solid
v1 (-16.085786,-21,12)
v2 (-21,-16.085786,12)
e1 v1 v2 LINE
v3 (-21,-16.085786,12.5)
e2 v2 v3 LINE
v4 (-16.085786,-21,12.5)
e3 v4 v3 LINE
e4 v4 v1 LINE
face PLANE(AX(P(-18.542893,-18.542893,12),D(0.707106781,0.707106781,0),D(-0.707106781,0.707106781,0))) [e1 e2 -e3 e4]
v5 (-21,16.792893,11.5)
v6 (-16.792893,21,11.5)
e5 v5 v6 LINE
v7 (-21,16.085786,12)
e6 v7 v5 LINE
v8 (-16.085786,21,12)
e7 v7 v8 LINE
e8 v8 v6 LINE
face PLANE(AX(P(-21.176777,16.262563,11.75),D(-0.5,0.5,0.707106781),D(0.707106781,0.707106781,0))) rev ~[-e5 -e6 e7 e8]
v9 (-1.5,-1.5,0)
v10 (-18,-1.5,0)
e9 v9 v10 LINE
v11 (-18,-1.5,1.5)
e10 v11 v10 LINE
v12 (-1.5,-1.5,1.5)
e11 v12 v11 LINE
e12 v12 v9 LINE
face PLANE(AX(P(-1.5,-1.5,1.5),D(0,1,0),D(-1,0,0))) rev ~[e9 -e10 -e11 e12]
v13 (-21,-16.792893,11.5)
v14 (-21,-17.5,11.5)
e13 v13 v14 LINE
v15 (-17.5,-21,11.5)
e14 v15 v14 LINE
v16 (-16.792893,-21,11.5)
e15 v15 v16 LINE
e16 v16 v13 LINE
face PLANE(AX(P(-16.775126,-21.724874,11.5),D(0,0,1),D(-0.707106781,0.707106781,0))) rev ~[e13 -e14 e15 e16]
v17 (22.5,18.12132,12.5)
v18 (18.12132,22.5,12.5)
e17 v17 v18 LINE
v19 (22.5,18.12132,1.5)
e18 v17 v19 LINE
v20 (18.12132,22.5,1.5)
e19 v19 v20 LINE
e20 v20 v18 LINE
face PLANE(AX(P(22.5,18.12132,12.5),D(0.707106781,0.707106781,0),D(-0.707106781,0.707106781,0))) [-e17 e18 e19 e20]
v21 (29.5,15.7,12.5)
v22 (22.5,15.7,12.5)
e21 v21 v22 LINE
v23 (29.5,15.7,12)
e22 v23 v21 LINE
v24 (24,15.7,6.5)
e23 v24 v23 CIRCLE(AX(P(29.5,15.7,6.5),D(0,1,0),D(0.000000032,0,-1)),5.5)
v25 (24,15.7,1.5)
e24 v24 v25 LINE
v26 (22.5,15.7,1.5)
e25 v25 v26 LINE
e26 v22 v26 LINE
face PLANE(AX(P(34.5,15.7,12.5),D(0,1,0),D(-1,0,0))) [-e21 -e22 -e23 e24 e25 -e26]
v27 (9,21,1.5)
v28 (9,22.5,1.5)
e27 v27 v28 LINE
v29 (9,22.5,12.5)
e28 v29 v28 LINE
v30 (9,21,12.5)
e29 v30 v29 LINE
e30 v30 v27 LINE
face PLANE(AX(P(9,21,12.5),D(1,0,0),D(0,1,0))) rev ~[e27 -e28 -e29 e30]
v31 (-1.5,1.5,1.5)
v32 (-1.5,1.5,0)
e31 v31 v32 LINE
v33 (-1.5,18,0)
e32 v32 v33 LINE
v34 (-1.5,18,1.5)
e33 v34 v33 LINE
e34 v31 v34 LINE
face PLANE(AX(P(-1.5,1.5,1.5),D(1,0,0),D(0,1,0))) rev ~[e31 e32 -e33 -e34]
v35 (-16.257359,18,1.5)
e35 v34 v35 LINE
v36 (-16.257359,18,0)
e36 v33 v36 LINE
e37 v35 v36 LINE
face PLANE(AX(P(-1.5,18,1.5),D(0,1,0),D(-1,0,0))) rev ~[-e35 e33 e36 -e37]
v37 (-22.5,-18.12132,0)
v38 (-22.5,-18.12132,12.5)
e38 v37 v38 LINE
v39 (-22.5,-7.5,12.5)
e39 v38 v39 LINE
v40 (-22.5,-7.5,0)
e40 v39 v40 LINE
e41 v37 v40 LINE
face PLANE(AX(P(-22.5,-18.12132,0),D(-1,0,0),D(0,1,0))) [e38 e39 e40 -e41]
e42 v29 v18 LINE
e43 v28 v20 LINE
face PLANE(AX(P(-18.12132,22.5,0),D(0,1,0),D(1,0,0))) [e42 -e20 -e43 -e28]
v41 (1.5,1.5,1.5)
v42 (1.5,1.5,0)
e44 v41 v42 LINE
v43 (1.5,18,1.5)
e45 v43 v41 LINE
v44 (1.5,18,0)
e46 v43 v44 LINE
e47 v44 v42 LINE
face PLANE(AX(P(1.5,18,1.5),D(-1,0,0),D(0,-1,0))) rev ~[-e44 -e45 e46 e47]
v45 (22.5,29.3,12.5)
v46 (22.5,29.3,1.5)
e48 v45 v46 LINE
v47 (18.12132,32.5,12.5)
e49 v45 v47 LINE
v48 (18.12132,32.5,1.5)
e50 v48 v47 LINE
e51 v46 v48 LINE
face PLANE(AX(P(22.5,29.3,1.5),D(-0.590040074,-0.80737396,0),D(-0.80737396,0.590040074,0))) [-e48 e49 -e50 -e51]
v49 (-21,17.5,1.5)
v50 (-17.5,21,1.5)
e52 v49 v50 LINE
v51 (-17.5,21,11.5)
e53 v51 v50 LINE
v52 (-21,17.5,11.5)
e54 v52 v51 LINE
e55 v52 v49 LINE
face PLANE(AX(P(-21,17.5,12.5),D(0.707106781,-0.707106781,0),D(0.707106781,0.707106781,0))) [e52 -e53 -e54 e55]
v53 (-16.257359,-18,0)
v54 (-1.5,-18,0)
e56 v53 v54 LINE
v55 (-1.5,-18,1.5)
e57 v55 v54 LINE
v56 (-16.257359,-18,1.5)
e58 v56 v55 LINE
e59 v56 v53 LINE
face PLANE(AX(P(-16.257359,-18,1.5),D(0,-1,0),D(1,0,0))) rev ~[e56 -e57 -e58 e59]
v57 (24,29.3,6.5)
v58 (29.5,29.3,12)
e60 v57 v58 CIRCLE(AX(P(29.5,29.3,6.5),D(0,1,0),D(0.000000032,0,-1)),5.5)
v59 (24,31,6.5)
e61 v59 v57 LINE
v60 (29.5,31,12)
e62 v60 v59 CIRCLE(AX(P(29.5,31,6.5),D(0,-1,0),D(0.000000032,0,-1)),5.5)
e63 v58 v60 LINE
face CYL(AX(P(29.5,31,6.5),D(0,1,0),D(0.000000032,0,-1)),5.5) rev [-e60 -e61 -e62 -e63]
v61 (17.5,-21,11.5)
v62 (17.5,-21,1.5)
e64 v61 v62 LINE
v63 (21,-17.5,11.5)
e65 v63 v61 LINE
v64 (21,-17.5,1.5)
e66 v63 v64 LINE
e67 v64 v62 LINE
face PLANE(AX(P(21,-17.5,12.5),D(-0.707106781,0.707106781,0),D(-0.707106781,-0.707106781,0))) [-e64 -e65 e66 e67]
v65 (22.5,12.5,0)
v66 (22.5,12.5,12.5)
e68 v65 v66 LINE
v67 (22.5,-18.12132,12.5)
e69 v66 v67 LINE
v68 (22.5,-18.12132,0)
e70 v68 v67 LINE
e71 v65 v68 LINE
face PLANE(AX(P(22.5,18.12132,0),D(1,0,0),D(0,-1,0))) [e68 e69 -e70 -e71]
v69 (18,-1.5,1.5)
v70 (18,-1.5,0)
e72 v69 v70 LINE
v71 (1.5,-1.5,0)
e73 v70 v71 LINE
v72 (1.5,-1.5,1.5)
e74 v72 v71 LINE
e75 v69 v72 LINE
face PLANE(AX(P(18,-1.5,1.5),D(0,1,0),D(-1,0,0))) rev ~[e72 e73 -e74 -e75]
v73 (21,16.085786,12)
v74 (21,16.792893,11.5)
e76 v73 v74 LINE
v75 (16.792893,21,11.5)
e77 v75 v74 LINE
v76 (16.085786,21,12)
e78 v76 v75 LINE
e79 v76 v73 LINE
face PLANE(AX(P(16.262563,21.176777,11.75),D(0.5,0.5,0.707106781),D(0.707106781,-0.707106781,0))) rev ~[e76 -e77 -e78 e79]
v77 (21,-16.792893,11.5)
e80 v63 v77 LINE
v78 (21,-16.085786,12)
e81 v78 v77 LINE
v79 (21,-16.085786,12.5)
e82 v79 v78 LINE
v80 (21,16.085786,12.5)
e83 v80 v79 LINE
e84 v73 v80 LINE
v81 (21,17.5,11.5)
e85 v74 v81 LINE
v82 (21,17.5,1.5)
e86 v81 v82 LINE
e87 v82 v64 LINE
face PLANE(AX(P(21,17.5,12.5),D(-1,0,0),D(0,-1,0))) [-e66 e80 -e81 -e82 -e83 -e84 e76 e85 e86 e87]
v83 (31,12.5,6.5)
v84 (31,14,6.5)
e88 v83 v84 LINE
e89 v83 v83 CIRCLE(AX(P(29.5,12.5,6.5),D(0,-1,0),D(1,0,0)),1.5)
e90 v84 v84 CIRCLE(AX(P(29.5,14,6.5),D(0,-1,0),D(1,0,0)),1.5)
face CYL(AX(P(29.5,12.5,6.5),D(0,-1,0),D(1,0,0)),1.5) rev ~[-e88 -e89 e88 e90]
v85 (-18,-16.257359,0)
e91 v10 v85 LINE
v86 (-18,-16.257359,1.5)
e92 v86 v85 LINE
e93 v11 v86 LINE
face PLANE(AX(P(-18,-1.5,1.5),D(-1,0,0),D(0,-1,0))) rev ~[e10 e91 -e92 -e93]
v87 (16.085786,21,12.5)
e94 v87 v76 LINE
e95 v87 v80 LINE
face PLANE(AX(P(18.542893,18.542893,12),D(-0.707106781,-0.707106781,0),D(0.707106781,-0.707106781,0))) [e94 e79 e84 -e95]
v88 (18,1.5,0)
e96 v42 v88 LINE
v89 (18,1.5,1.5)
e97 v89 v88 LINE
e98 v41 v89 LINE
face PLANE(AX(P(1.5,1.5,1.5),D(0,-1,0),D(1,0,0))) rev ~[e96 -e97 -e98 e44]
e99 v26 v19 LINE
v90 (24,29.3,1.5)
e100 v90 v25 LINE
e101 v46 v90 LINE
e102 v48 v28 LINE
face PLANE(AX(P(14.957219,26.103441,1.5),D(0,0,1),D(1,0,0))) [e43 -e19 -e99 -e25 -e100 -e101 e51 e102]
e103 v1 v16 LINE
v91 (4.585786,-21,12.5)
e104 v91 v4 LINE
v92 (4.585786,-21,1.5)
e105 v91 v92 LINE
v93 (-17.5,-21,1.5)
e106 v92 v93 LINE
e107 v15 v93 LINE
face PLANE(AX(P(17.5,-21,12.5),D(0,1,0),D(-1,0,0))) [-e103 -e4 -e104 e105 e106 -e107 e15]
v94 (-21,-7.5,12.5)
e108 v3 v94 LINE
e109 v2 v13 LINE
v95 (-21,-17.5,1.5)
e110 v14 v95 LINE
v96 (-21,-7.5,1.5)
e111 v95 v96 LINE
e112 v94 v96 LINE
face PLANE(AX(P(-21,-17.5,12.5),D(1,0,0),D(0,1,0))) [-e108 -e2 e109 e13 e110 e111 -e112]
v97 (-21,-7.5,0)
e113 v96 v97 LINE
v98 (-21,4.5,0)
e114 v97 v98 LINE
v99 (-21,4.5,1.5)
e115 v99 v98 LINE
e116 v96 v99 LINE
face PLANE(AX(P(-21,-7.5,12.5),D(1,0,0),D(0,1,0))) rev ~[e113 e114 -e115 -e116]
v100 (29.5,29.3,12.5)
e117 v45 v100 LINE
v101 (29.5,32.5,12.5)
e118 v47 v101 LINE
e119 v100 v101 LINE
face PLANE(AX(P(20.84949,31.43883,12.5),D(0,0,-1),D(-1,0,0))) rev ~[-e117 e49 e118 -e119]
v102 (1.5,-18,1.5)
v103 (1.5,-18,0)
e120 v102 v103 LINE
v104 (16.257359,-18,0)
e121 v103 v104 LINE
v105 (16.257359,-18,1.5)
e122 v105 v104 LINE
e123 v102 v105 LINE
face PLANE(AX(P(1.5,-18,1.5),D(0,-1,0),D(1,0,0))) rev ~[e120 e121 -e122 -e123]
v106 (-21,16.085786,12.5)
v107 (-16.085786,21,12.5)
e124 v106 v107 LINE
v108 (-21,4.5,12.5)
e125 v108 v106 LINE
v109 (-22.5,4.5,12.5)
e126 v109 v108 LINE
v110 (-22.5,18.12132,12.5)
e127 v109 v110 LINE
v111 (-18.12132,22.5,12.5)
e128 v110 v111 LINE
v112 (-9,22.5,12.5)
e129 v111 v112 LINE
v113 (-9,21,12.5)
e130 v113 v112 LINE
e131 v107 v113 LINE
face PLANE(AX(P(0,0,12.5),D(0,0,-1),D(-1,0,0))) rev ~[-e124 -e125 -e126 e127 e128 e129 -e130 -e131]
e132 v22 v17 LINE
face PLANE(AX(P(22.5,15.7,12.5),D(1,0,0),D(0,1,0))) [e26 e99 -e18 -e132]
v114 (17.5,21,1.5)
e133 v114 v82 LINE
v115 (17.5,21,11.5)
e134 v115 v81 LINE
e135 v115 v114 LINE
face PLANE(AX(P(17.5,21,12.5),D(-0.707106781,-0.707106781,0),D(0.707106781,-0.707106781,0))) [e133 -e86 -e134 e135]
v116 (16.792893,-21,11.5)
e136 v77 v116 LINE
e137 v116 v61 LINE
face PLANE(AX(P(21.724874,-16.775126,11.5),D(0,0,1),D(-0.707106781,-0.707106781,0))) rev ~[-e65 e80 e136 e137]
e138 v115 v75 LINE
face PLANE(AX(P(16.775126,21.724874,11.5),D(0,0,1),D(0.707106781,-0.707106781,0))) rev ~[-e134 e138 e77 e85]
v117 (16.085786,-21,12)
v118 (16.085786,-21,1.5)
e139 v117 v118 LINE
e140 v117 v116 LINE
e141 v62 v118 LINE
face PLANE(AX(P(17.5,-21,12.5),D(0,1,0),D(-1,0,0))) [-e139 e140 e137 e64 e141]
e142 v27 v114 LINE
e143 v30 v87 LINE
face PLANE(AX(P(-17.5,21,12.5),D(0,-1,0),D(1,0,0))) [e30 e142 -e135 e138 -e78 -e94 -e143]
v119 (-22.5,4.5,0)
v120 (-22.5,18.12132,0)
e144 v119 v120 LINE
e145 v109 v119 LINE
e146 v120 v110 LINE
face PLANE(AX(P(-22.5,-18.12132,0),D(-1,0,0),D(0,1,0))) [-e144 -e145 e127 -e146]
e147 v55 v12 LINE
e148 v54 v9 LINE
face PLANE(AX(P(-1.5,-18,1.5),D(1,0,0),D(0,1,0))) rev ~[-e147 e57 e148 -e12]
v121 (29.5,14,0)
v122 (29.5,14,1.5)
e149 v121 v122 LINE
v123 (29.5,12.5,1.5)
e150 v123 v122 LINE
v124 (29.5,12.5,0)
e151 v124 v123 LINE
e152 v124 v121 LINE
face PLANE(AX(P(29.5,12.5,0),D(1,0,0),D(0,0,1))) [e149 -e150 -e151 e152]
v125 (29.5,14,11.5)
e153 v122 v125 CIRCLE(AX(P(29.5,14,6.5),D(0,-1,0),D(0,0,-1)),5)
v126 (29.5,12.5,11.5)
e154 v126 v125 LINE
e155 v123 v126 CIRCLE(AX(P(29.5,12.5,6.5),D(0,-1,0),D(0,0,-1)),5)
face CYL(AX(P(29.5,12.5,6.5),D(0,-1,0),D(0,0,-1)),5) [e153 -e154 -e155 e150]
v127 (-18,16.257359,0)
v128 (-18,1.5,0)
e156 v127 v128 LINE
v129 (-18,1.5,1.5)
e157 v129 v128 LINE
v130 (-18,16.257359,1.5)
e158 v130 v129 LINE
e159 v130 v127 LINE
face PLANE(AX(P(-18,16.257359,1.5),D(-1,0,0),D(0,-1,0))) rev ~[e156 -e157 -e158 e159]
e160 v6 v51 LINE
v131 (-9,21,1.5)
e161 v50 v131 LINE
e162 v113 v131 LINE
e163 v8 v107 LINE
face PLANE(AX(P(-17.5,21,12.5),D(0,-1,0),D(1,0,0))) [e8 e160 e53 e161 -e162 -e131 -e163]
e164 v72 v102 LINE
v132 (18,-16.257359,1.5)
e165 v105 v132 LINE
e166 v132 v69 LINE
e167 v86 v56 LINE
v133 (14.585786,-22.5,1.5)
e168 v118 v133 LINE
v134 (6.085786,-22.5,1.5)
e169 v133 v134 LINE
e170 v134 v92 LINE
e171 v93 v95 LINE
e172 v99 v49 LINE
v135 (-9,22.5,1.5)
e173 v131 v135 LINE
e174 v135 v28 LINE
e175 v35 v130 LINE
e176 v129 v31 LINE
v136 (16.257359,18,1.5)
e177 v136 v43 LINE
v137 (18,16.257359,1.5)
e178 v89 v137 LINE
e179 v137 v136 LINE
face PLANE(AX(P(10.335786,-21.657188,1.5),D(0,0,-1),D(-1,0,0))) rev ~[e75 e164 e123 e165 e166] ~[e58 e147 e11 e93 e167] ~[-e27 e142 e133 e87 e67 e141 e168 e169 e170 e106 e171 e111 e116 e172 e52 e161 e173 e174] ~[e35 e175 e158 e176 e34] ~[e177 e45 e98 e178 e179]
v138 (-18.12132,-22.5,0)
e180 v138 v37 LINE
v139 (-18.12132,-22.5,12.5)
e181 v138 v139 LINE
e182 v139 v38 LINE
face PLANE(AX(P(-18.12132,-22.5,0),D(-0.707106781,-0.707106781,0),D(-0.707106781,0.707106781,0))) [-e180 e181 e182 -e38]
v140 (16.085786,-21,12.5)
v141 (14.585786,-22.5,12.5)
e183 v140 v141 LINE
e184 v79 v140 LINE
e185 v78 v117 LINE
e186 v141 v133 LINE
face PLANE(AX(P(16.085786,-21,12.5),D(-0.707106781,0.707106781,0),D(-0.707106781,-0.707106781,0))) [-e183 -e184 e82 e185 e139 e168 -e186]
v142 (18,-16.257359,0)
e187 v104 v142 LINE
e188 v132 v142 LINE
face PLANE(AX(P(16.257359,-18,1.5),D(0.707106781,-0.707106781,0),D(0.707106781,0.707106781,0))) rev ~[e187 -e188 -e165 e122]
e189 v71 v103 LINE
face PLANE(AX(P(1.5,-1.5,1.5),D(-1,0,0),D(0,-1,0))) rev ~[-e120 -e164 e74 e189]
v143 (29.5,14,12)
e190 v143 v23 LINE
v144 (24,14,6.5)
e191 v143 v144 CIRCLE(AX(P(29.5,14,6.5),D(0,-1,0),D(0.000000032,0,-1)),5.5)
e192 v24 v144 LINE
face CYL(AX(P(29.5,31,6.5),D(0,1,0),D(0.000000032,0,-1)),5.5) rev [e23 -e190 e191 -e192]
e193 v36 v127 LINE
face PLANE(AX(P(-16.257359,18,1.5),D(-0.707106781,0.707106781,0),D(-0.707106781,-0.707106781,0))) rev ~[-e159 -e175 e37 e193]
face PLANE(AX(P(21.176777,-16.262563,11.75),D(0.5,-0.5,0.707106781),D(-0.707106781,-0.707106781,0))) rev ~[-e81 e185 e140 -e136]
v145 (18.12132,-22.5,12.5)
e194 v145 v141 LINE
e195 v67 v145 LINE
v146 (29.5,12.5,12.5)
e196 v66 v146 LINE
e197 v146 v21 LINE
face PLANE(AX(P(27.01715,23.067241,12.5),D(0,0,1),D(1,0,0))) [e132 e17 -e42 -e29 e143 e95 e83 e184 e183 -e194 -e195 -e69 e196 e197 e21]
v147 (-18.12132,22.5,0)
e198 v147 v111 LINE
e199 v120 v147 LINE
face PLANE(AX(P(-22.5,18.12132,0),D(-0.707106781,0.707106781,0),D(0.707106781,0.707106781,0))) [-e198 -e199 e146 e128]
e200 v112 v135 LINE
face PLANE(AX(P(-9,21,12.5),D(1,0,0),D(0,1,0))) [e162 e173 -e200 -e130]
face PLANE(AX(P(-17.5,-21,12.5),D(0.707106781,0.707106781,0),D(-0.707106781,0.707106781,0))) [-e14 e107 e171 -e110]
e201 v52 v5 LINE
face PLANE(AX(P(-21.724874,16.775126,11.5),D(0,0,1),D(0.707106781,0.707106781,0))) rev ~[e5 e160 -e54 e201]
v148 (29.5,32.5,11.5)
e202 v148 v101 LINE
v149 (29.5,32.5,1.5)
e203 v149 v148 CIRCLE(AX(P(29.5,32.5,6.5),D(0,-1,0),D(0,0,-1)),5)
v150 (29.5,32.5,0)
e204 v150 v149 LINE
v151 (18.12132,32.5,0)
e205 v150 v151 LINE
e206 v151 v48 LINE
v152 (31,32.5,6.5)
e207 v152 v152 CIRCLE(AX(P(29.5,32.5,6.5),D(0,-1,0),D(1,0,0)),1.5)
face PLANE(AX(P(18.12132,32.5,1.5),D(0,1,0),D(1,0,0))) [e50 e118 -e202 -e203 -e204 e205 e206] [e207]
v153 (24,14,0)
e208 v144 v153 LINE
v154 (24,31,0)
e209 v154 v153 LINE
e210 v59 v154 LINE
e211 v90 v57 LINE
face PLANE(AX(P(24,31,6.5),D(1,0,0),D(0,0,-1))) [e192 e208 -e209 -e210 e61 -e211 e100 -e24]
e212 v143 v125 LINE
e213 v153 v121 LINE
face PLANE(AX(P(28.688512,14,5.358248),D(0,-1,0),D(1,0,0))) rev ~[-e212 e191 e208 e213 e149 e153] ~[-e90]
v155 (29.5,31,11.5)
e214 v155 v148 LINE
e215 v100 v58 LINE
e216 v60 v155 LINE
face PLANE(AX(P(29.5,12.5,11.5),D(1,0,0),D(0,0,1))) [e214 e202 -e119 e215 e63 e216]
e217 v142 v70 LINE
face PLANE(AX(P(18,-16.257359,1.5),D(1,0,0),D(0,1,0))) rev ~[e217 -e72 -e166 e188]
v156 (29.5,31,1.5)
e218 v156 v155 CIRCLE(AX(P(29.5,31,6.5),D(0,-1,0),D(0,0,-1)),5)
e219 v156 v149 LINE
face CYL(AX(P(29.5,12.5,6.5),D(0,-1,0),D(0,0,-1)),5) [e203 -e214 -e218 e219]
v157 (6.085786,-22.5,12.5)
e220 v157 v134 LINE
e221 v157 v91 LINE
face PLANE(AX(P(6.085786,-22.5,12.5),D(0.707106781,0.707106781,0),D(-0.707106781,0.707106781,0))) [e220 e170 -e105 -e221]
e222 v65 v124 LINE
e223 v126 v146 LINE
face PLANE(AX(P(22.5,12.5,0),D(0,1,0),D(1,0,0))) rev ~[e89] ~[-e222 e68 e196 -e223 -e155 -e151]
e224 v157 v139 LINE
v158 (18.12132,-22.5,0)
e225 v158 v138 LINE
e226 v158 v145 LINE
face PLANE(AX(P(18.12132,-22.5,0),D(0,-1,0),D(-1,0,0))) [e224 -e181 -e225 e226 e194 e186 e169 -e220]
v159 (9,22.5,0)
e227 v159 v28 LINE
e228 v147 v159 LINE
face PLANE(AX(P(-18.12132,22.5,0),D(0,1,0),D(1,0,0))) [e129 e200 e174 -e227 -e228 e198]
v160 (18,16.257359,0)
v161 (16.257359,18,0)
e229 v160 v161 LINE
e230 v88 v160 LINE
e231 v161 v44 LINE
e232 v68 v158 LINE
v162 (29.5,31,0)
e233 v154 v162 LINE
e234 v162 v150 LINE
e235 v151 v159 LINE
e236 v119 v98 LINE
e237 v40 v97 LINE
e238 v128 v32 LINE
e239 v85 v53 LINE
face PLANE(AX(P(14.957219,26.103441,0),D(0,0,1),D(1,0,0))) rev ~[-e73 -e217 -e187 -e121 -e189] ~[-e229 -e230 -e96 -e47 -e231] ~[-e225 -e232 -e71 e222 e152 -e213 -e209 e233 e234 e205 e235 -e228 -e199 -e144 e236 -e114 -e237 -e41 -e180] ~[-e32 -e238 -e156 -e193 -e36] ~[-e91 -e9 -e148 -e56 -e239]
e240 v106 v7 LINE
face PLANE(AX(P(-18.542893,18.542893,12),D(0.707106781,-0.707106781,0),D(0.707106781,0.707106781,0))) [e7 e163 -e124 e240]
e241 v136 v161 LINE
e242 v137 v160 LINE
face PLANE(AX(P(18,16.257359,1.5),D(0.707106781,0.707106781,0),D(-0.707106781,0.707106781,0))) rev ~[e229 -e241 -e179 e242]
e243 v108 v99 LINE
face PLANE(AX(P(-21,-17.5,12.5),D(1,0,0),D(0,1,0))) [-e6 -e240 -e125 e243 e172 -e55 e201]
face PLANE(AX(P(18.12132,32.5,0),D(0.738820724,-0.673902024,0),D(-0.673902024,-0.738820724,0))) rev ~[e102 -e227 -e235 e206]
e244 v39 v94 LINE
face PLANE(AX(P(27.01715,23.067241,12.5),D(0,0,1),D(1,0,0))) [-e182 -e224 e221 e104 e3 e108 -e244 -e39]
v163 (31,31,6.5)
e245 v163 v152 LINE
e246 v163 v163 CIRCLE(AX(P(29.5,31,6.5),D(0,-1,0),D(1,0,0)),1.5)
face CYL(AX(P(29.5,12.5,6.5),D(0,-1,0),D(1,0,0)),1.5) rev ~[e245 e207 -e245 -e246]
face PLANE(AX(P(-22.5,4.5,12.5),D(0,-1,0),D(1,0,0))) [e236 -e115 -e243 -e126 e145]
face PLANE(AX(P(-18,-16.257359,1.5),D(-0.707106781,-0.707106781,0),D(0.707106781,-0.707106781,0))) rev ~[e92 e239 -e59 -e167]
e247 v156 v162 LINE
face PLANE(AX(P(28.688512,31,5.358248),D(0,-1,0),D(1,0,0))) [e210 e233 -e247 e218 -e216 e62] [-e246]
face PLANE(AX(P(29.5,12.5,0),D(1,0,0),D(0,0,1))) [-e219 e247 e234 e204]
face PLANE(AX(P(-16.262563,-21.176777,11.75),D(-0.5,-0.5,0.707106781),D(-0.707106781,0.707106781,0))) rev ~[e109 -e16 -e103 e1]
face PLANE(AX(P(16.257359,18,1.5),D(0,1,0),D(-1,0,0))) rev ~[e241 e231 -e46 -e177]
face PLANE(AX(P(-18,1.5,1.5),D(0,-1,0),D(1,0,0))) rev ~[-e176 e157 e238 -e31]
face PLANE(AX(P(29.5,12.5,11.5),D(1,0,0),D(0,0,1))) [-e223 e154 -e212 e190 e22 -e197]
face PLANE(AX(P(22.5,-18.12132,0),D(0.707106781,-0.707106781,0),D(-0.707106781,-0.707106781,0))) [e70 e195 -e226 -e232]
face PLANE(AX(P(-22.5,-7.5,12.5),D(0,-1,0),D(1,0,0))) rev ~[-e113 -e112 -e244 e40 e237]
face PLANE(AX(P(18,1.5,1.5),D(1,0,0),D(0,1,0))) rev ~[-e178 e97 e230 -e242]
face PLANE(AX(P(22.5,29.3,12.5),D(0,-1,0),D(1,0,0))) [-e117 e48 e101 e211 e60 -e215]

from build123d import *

# Parameters (mm, degrees)
PAD_DEPTH       = 12.5
POCKET_DEPTH    = 11
POCKET001_DEPTH = 1.5
SKETCH052_W     = 7
SKETCH052_H     = 1
PAD001_DEPTH    = 1
CHAMFER_SIZE    = 0.5
SKETCH053_W     = 7
SKETCH053_H     = 1
PAD002_DEPTH    = 1
CHAMFER001_SIZE = 0.5
SKETCH054_W     = 7
SKETCH054_H     = 1
PAD003_DEPTH    = 1
CHAMFER002_SIZE = 0.5
SKETCH055_W     = 7
SKETCH055_H     = 1
PAD004_DEPTH    = 1
CHAMFER003_SIZE = 0.5
SKETCH056_W     = 1.5
SKETCH056_H     = 12
POCKET002_DEPTH = 12.5
SKETCH057_W     = 18
SKETCH057_H     = 1.5
POCKET003_DEPTH = 11
PAD005_DEPTH    = 12.5
POCKET004_DEPTH = 20
POCKET005_DEPTH = 11
SKETCH063_R     = 1.5
POCKET006_DEPTH = 20
POCKET007_DEPTH = 17
POCKET008_DEPTH = 11
PAD006_DEPTH    = 11
PAD007_DEPTH    = 1.5


with BuildPart() as part:
    # Sketch001 → Pad (new body)
    with BuildSketch(Plane.XY):
        Polygon((-22.5, 18.12132), (-18.12132, 22.5), (18.12132, 22.5), (22.5, 18.12132), (22.5, -18.12132), (18.12132, -22.5), (-18.12132, -22.5), (-22.5, -18.12132), align=None)
    extrude(amount=PAD_DEPTH)

    # Sketch002 (on Face10 of Pad) → Pocket (cut)
    with BuildSketch(Plane.XY.offset(12.5)):
        Polygon((-21, 17.5), (-17.5, 21), (17.5, 21), (21, 17.5), (21, -17.5), (17.5, -21), (-17.5, -21), (-21, -17.5), align=None)
    extrude(amount=-POCKET_DEPTH, mode=Mode.SUBTRACT)

    # Sketch003 (on Face19 of Pocket) → Pocket001 (cut)
    with BuildSketch(Plane.XY.offset(1.5)):
        Polygon((-16.257359, 18), (-18, 16.257359), (-18, 1.5), (-1.5, 1.5), (-1.5, 18), align=None)
        Polygon((-18, -16.257359), (-16.257359, -18), (-1.5, -18), (-1.5, -1.5), (-18, -1.5), align=None)
        Polygon((16.257359, -18), (18, -16.257359), (18, -1.5), (1.5, -1.5), (1.5, -18), align=None)
        Polygon((18, 1.5), (18, 16.257359), (16.257359, 18), (1.5, 18), (1.5, 1.5), align=None)
    extrude(amount=-POCKET001_DEPTH, mode=Mode.SUBTRACT)

    # Sketch052 (on Face31 of Pocket001) → Pad001 (join)
    with BuildSketch(Plane(origin=(-19.25, 19.25, 0), x_dir=(0.707107, 0.707107, 0), z_dir=(0.707107, -0.707107, 0))):
        with Locations((0, 12)):
            Rectangle(SKETCH052_W, SKETCH052_H)
    extrude(amount=PAD001_DEPTH)

    # Chamfer
    chamfer_edges = [part.edges().sort_by_distance(p)[0] for p in [
        (-18.542893, 18.542893, 11.5),
    ]]
    chamfer(chamfer_edges, length=CHAMFER_SIZE)

    # Sketch053 (on Face8 of Chamfer) → Pad002 (join)
    with BuildSketch(Plane(origin=(19.25, 19.25, 0), x_dir=(0.707107, -0.707107, 0), z_dir=(-0.707107, -0.707107, 0))):
        with Locations((0, 12)):
            Rectangle(SKETCH053_W, SKETCH053_H)
    extrude(amount=PAD002_DEPTH)

    # Chamfer001
    chamfer001_edges = [part.edges().sort_by_distance(p)[0] for p in [
        (18.542893, 18.542893, 11.5),
    ]]
    chamfer(chamfer001_edges, length=CHAMFER001_SIZE)

    # Sketch054 (on Face28 of Chamfer001) → Pad003 (join)
    with BuildSketch(Plane(origin=(-19.25, -19.25, 0), x_dir=(-0.707107, 0.707107, 0), z_dir=(0.707107, 0.707107, 0))):
        with Locations((0, 12)):
            Rectangle(SKETCH054_W, SKETCH054_H)
    extrude(amount=PAD003_DEPTH)

    # Chamfer002
    chamfer002_edges = [part.edges().sort_by_distance(p)[0] for p in [
        (-18.542893, -18.542893, 11.5),
    ]]
    chamfer(chamfer002_edges, length=CHAMFER002_SIZE)

    # Sketch055 (on Face6 of Chamfer002) → Pad004 (join)
    with BuildSketch(Plane(origin=(19.25, -19.25, 0), x_dir=(-0.707107, -0.707107, 0), z_dir=(-0.707107, 0.707107, 0))):
        with Locations((0, 12)):
            Rectangle(SKETCH055_W, SKETCH055_H)
    extrude(amount=PAD004_DEPTH)

    # Chamfer003
    chamfer003_edges = [part.edges().sort_by_distance(p)[0] for p in [
        (18.542893, -18.542893, 11.5),
    ]]
    chamfer(chamfer003_edges, length=CHAMFER003_SIZE)

    # Sketch056 (on Face7 of Chamfer003) → Pocket002 (cut)
    with BuildSketch(Plane.XY.offset(12.5)):
        with Locations((-21.75, -1.5)):
            Rectangle(SKETCH056_W, SKETCH056_H)
    extrude(amount=-POCKET002_DEPTH, mode=Mode.SUBTRACT)

    # Sketch057 (on Face7 of Pocket002) → Pocket003 (cut)
    with BuildSketch(Plane.XY.offset(12.5)):
        with Locations((0, 21.75)):
            Rectangle(SKETCH057_W, SKETCH057_H)
    extrude(amount=-POCKET003_DEPTH, mode=Mode.SUBTRACT)

    # Sketch058 → Pad005 (join)
    with BuildSketch(Plane.XY):
        Polygon((22.5, 12.5), (34.5, 12.5), (34.5, 32.5), (18.12132, 32.5), (18.12132, 22.5), (22.5, 18.12132), align=None)
    extrude(amount=PAD005_DEPTH)

    # Sketch059 (on Face71 of Pad005) → Pocket004 (cut)
    with BuildSketch(Plane.XZ.offset(-12.5)):
        with BuildLine():
            ThreePointArc((29.5, 1.5), (34.5, 6.5), (29.5, 11.5))
            Line((29.5, 11.5), (29.5, 12.5))
            Line((29.5, 12.5), (35.5, 12.5))
            Line((35.5, 12.5), (35.5, 0))
            Line((35.5, 0), (29.5, 0))
            Line((29.5, 0), (29.5, 1.5))
        make_face()
    extrude(amount=-POCKET004_DEPTH, mode=Mode.SUBTRACT)

    # Sketch060 (on Face44 of Pocket004) → Pocket005 (cut)
    with BuildSketch(Plane.XY.offset(12.5)):
        Polygon((18.12132, 22.5), (18.12132, 32.5), (22.5, 32.5), (22.5, 29.3), (34.5, 29.3), (34.5, 15.7), (22.5, 15.7), (22.5, 18.12132), align=None)
    extrude(amount=-POCKET005_DEPTH, mode=Mode.SUBTRACT)

    # Sketch063 → Pocket006 (cut)
    with BuildSketch(Plane.XZ.offset(-12.5)):
        with Locations((29.5, 6.5)):
            Circle(SKETCH063_R)
    extrude(amount=-POCKET006_DEPTH, mode=Mode.SUBTRACT)

    # Sketch064 (on Face90 of Pocket006) → Pocket007 (cut)
    with BuildSketch(Plane.XZ.offset(-31)):
        with BuildLine():
            ThreePointArc((29.5, 1), (33.389087, 10.389087), (24, 6.5))
            Line((24, 6.5), (24, 0))
            Line((24, 0), (29.5, 0))
            Line((29.5, 0), (29.5, 1))
        make_face()
    extrude(amount=POCKET007_DEPTH, mode=Mode.SUBTRACT)

    # Sketch065 (on Face7 of Pocket007) → Pocket008 (cut)
    with BuildSketch(Plane.XY.offset(12.5)):
        Polygon((16.085786, -21), (14.585786, -22.5), (6.085786, -22.5), (4.585786, -21), align=None)
    extrude(amount=-POCKET008_DEPTH, mode=Mode.SUBTRACT)

    # Sketch066 (on Face75 of Pocket008) → Pad006 (join)
    with BuildSketch(Plane.XY.offset(1.5)):
        Polygon((18.12132, 32.5), (22.5, 32.5), (22.5, 29.3), align=None)
    extrude(amount=PAD006_DEPTH)

    # Sketch067 → Pad007 (join)
    with BuildSketch(Plane.XY):
        Polygon((18.12132, 32.5), (9, 22.5), (18.12132, 22.5), align=None)
    extrude(amount=PAD007_DEPTH)


solid = part.part
